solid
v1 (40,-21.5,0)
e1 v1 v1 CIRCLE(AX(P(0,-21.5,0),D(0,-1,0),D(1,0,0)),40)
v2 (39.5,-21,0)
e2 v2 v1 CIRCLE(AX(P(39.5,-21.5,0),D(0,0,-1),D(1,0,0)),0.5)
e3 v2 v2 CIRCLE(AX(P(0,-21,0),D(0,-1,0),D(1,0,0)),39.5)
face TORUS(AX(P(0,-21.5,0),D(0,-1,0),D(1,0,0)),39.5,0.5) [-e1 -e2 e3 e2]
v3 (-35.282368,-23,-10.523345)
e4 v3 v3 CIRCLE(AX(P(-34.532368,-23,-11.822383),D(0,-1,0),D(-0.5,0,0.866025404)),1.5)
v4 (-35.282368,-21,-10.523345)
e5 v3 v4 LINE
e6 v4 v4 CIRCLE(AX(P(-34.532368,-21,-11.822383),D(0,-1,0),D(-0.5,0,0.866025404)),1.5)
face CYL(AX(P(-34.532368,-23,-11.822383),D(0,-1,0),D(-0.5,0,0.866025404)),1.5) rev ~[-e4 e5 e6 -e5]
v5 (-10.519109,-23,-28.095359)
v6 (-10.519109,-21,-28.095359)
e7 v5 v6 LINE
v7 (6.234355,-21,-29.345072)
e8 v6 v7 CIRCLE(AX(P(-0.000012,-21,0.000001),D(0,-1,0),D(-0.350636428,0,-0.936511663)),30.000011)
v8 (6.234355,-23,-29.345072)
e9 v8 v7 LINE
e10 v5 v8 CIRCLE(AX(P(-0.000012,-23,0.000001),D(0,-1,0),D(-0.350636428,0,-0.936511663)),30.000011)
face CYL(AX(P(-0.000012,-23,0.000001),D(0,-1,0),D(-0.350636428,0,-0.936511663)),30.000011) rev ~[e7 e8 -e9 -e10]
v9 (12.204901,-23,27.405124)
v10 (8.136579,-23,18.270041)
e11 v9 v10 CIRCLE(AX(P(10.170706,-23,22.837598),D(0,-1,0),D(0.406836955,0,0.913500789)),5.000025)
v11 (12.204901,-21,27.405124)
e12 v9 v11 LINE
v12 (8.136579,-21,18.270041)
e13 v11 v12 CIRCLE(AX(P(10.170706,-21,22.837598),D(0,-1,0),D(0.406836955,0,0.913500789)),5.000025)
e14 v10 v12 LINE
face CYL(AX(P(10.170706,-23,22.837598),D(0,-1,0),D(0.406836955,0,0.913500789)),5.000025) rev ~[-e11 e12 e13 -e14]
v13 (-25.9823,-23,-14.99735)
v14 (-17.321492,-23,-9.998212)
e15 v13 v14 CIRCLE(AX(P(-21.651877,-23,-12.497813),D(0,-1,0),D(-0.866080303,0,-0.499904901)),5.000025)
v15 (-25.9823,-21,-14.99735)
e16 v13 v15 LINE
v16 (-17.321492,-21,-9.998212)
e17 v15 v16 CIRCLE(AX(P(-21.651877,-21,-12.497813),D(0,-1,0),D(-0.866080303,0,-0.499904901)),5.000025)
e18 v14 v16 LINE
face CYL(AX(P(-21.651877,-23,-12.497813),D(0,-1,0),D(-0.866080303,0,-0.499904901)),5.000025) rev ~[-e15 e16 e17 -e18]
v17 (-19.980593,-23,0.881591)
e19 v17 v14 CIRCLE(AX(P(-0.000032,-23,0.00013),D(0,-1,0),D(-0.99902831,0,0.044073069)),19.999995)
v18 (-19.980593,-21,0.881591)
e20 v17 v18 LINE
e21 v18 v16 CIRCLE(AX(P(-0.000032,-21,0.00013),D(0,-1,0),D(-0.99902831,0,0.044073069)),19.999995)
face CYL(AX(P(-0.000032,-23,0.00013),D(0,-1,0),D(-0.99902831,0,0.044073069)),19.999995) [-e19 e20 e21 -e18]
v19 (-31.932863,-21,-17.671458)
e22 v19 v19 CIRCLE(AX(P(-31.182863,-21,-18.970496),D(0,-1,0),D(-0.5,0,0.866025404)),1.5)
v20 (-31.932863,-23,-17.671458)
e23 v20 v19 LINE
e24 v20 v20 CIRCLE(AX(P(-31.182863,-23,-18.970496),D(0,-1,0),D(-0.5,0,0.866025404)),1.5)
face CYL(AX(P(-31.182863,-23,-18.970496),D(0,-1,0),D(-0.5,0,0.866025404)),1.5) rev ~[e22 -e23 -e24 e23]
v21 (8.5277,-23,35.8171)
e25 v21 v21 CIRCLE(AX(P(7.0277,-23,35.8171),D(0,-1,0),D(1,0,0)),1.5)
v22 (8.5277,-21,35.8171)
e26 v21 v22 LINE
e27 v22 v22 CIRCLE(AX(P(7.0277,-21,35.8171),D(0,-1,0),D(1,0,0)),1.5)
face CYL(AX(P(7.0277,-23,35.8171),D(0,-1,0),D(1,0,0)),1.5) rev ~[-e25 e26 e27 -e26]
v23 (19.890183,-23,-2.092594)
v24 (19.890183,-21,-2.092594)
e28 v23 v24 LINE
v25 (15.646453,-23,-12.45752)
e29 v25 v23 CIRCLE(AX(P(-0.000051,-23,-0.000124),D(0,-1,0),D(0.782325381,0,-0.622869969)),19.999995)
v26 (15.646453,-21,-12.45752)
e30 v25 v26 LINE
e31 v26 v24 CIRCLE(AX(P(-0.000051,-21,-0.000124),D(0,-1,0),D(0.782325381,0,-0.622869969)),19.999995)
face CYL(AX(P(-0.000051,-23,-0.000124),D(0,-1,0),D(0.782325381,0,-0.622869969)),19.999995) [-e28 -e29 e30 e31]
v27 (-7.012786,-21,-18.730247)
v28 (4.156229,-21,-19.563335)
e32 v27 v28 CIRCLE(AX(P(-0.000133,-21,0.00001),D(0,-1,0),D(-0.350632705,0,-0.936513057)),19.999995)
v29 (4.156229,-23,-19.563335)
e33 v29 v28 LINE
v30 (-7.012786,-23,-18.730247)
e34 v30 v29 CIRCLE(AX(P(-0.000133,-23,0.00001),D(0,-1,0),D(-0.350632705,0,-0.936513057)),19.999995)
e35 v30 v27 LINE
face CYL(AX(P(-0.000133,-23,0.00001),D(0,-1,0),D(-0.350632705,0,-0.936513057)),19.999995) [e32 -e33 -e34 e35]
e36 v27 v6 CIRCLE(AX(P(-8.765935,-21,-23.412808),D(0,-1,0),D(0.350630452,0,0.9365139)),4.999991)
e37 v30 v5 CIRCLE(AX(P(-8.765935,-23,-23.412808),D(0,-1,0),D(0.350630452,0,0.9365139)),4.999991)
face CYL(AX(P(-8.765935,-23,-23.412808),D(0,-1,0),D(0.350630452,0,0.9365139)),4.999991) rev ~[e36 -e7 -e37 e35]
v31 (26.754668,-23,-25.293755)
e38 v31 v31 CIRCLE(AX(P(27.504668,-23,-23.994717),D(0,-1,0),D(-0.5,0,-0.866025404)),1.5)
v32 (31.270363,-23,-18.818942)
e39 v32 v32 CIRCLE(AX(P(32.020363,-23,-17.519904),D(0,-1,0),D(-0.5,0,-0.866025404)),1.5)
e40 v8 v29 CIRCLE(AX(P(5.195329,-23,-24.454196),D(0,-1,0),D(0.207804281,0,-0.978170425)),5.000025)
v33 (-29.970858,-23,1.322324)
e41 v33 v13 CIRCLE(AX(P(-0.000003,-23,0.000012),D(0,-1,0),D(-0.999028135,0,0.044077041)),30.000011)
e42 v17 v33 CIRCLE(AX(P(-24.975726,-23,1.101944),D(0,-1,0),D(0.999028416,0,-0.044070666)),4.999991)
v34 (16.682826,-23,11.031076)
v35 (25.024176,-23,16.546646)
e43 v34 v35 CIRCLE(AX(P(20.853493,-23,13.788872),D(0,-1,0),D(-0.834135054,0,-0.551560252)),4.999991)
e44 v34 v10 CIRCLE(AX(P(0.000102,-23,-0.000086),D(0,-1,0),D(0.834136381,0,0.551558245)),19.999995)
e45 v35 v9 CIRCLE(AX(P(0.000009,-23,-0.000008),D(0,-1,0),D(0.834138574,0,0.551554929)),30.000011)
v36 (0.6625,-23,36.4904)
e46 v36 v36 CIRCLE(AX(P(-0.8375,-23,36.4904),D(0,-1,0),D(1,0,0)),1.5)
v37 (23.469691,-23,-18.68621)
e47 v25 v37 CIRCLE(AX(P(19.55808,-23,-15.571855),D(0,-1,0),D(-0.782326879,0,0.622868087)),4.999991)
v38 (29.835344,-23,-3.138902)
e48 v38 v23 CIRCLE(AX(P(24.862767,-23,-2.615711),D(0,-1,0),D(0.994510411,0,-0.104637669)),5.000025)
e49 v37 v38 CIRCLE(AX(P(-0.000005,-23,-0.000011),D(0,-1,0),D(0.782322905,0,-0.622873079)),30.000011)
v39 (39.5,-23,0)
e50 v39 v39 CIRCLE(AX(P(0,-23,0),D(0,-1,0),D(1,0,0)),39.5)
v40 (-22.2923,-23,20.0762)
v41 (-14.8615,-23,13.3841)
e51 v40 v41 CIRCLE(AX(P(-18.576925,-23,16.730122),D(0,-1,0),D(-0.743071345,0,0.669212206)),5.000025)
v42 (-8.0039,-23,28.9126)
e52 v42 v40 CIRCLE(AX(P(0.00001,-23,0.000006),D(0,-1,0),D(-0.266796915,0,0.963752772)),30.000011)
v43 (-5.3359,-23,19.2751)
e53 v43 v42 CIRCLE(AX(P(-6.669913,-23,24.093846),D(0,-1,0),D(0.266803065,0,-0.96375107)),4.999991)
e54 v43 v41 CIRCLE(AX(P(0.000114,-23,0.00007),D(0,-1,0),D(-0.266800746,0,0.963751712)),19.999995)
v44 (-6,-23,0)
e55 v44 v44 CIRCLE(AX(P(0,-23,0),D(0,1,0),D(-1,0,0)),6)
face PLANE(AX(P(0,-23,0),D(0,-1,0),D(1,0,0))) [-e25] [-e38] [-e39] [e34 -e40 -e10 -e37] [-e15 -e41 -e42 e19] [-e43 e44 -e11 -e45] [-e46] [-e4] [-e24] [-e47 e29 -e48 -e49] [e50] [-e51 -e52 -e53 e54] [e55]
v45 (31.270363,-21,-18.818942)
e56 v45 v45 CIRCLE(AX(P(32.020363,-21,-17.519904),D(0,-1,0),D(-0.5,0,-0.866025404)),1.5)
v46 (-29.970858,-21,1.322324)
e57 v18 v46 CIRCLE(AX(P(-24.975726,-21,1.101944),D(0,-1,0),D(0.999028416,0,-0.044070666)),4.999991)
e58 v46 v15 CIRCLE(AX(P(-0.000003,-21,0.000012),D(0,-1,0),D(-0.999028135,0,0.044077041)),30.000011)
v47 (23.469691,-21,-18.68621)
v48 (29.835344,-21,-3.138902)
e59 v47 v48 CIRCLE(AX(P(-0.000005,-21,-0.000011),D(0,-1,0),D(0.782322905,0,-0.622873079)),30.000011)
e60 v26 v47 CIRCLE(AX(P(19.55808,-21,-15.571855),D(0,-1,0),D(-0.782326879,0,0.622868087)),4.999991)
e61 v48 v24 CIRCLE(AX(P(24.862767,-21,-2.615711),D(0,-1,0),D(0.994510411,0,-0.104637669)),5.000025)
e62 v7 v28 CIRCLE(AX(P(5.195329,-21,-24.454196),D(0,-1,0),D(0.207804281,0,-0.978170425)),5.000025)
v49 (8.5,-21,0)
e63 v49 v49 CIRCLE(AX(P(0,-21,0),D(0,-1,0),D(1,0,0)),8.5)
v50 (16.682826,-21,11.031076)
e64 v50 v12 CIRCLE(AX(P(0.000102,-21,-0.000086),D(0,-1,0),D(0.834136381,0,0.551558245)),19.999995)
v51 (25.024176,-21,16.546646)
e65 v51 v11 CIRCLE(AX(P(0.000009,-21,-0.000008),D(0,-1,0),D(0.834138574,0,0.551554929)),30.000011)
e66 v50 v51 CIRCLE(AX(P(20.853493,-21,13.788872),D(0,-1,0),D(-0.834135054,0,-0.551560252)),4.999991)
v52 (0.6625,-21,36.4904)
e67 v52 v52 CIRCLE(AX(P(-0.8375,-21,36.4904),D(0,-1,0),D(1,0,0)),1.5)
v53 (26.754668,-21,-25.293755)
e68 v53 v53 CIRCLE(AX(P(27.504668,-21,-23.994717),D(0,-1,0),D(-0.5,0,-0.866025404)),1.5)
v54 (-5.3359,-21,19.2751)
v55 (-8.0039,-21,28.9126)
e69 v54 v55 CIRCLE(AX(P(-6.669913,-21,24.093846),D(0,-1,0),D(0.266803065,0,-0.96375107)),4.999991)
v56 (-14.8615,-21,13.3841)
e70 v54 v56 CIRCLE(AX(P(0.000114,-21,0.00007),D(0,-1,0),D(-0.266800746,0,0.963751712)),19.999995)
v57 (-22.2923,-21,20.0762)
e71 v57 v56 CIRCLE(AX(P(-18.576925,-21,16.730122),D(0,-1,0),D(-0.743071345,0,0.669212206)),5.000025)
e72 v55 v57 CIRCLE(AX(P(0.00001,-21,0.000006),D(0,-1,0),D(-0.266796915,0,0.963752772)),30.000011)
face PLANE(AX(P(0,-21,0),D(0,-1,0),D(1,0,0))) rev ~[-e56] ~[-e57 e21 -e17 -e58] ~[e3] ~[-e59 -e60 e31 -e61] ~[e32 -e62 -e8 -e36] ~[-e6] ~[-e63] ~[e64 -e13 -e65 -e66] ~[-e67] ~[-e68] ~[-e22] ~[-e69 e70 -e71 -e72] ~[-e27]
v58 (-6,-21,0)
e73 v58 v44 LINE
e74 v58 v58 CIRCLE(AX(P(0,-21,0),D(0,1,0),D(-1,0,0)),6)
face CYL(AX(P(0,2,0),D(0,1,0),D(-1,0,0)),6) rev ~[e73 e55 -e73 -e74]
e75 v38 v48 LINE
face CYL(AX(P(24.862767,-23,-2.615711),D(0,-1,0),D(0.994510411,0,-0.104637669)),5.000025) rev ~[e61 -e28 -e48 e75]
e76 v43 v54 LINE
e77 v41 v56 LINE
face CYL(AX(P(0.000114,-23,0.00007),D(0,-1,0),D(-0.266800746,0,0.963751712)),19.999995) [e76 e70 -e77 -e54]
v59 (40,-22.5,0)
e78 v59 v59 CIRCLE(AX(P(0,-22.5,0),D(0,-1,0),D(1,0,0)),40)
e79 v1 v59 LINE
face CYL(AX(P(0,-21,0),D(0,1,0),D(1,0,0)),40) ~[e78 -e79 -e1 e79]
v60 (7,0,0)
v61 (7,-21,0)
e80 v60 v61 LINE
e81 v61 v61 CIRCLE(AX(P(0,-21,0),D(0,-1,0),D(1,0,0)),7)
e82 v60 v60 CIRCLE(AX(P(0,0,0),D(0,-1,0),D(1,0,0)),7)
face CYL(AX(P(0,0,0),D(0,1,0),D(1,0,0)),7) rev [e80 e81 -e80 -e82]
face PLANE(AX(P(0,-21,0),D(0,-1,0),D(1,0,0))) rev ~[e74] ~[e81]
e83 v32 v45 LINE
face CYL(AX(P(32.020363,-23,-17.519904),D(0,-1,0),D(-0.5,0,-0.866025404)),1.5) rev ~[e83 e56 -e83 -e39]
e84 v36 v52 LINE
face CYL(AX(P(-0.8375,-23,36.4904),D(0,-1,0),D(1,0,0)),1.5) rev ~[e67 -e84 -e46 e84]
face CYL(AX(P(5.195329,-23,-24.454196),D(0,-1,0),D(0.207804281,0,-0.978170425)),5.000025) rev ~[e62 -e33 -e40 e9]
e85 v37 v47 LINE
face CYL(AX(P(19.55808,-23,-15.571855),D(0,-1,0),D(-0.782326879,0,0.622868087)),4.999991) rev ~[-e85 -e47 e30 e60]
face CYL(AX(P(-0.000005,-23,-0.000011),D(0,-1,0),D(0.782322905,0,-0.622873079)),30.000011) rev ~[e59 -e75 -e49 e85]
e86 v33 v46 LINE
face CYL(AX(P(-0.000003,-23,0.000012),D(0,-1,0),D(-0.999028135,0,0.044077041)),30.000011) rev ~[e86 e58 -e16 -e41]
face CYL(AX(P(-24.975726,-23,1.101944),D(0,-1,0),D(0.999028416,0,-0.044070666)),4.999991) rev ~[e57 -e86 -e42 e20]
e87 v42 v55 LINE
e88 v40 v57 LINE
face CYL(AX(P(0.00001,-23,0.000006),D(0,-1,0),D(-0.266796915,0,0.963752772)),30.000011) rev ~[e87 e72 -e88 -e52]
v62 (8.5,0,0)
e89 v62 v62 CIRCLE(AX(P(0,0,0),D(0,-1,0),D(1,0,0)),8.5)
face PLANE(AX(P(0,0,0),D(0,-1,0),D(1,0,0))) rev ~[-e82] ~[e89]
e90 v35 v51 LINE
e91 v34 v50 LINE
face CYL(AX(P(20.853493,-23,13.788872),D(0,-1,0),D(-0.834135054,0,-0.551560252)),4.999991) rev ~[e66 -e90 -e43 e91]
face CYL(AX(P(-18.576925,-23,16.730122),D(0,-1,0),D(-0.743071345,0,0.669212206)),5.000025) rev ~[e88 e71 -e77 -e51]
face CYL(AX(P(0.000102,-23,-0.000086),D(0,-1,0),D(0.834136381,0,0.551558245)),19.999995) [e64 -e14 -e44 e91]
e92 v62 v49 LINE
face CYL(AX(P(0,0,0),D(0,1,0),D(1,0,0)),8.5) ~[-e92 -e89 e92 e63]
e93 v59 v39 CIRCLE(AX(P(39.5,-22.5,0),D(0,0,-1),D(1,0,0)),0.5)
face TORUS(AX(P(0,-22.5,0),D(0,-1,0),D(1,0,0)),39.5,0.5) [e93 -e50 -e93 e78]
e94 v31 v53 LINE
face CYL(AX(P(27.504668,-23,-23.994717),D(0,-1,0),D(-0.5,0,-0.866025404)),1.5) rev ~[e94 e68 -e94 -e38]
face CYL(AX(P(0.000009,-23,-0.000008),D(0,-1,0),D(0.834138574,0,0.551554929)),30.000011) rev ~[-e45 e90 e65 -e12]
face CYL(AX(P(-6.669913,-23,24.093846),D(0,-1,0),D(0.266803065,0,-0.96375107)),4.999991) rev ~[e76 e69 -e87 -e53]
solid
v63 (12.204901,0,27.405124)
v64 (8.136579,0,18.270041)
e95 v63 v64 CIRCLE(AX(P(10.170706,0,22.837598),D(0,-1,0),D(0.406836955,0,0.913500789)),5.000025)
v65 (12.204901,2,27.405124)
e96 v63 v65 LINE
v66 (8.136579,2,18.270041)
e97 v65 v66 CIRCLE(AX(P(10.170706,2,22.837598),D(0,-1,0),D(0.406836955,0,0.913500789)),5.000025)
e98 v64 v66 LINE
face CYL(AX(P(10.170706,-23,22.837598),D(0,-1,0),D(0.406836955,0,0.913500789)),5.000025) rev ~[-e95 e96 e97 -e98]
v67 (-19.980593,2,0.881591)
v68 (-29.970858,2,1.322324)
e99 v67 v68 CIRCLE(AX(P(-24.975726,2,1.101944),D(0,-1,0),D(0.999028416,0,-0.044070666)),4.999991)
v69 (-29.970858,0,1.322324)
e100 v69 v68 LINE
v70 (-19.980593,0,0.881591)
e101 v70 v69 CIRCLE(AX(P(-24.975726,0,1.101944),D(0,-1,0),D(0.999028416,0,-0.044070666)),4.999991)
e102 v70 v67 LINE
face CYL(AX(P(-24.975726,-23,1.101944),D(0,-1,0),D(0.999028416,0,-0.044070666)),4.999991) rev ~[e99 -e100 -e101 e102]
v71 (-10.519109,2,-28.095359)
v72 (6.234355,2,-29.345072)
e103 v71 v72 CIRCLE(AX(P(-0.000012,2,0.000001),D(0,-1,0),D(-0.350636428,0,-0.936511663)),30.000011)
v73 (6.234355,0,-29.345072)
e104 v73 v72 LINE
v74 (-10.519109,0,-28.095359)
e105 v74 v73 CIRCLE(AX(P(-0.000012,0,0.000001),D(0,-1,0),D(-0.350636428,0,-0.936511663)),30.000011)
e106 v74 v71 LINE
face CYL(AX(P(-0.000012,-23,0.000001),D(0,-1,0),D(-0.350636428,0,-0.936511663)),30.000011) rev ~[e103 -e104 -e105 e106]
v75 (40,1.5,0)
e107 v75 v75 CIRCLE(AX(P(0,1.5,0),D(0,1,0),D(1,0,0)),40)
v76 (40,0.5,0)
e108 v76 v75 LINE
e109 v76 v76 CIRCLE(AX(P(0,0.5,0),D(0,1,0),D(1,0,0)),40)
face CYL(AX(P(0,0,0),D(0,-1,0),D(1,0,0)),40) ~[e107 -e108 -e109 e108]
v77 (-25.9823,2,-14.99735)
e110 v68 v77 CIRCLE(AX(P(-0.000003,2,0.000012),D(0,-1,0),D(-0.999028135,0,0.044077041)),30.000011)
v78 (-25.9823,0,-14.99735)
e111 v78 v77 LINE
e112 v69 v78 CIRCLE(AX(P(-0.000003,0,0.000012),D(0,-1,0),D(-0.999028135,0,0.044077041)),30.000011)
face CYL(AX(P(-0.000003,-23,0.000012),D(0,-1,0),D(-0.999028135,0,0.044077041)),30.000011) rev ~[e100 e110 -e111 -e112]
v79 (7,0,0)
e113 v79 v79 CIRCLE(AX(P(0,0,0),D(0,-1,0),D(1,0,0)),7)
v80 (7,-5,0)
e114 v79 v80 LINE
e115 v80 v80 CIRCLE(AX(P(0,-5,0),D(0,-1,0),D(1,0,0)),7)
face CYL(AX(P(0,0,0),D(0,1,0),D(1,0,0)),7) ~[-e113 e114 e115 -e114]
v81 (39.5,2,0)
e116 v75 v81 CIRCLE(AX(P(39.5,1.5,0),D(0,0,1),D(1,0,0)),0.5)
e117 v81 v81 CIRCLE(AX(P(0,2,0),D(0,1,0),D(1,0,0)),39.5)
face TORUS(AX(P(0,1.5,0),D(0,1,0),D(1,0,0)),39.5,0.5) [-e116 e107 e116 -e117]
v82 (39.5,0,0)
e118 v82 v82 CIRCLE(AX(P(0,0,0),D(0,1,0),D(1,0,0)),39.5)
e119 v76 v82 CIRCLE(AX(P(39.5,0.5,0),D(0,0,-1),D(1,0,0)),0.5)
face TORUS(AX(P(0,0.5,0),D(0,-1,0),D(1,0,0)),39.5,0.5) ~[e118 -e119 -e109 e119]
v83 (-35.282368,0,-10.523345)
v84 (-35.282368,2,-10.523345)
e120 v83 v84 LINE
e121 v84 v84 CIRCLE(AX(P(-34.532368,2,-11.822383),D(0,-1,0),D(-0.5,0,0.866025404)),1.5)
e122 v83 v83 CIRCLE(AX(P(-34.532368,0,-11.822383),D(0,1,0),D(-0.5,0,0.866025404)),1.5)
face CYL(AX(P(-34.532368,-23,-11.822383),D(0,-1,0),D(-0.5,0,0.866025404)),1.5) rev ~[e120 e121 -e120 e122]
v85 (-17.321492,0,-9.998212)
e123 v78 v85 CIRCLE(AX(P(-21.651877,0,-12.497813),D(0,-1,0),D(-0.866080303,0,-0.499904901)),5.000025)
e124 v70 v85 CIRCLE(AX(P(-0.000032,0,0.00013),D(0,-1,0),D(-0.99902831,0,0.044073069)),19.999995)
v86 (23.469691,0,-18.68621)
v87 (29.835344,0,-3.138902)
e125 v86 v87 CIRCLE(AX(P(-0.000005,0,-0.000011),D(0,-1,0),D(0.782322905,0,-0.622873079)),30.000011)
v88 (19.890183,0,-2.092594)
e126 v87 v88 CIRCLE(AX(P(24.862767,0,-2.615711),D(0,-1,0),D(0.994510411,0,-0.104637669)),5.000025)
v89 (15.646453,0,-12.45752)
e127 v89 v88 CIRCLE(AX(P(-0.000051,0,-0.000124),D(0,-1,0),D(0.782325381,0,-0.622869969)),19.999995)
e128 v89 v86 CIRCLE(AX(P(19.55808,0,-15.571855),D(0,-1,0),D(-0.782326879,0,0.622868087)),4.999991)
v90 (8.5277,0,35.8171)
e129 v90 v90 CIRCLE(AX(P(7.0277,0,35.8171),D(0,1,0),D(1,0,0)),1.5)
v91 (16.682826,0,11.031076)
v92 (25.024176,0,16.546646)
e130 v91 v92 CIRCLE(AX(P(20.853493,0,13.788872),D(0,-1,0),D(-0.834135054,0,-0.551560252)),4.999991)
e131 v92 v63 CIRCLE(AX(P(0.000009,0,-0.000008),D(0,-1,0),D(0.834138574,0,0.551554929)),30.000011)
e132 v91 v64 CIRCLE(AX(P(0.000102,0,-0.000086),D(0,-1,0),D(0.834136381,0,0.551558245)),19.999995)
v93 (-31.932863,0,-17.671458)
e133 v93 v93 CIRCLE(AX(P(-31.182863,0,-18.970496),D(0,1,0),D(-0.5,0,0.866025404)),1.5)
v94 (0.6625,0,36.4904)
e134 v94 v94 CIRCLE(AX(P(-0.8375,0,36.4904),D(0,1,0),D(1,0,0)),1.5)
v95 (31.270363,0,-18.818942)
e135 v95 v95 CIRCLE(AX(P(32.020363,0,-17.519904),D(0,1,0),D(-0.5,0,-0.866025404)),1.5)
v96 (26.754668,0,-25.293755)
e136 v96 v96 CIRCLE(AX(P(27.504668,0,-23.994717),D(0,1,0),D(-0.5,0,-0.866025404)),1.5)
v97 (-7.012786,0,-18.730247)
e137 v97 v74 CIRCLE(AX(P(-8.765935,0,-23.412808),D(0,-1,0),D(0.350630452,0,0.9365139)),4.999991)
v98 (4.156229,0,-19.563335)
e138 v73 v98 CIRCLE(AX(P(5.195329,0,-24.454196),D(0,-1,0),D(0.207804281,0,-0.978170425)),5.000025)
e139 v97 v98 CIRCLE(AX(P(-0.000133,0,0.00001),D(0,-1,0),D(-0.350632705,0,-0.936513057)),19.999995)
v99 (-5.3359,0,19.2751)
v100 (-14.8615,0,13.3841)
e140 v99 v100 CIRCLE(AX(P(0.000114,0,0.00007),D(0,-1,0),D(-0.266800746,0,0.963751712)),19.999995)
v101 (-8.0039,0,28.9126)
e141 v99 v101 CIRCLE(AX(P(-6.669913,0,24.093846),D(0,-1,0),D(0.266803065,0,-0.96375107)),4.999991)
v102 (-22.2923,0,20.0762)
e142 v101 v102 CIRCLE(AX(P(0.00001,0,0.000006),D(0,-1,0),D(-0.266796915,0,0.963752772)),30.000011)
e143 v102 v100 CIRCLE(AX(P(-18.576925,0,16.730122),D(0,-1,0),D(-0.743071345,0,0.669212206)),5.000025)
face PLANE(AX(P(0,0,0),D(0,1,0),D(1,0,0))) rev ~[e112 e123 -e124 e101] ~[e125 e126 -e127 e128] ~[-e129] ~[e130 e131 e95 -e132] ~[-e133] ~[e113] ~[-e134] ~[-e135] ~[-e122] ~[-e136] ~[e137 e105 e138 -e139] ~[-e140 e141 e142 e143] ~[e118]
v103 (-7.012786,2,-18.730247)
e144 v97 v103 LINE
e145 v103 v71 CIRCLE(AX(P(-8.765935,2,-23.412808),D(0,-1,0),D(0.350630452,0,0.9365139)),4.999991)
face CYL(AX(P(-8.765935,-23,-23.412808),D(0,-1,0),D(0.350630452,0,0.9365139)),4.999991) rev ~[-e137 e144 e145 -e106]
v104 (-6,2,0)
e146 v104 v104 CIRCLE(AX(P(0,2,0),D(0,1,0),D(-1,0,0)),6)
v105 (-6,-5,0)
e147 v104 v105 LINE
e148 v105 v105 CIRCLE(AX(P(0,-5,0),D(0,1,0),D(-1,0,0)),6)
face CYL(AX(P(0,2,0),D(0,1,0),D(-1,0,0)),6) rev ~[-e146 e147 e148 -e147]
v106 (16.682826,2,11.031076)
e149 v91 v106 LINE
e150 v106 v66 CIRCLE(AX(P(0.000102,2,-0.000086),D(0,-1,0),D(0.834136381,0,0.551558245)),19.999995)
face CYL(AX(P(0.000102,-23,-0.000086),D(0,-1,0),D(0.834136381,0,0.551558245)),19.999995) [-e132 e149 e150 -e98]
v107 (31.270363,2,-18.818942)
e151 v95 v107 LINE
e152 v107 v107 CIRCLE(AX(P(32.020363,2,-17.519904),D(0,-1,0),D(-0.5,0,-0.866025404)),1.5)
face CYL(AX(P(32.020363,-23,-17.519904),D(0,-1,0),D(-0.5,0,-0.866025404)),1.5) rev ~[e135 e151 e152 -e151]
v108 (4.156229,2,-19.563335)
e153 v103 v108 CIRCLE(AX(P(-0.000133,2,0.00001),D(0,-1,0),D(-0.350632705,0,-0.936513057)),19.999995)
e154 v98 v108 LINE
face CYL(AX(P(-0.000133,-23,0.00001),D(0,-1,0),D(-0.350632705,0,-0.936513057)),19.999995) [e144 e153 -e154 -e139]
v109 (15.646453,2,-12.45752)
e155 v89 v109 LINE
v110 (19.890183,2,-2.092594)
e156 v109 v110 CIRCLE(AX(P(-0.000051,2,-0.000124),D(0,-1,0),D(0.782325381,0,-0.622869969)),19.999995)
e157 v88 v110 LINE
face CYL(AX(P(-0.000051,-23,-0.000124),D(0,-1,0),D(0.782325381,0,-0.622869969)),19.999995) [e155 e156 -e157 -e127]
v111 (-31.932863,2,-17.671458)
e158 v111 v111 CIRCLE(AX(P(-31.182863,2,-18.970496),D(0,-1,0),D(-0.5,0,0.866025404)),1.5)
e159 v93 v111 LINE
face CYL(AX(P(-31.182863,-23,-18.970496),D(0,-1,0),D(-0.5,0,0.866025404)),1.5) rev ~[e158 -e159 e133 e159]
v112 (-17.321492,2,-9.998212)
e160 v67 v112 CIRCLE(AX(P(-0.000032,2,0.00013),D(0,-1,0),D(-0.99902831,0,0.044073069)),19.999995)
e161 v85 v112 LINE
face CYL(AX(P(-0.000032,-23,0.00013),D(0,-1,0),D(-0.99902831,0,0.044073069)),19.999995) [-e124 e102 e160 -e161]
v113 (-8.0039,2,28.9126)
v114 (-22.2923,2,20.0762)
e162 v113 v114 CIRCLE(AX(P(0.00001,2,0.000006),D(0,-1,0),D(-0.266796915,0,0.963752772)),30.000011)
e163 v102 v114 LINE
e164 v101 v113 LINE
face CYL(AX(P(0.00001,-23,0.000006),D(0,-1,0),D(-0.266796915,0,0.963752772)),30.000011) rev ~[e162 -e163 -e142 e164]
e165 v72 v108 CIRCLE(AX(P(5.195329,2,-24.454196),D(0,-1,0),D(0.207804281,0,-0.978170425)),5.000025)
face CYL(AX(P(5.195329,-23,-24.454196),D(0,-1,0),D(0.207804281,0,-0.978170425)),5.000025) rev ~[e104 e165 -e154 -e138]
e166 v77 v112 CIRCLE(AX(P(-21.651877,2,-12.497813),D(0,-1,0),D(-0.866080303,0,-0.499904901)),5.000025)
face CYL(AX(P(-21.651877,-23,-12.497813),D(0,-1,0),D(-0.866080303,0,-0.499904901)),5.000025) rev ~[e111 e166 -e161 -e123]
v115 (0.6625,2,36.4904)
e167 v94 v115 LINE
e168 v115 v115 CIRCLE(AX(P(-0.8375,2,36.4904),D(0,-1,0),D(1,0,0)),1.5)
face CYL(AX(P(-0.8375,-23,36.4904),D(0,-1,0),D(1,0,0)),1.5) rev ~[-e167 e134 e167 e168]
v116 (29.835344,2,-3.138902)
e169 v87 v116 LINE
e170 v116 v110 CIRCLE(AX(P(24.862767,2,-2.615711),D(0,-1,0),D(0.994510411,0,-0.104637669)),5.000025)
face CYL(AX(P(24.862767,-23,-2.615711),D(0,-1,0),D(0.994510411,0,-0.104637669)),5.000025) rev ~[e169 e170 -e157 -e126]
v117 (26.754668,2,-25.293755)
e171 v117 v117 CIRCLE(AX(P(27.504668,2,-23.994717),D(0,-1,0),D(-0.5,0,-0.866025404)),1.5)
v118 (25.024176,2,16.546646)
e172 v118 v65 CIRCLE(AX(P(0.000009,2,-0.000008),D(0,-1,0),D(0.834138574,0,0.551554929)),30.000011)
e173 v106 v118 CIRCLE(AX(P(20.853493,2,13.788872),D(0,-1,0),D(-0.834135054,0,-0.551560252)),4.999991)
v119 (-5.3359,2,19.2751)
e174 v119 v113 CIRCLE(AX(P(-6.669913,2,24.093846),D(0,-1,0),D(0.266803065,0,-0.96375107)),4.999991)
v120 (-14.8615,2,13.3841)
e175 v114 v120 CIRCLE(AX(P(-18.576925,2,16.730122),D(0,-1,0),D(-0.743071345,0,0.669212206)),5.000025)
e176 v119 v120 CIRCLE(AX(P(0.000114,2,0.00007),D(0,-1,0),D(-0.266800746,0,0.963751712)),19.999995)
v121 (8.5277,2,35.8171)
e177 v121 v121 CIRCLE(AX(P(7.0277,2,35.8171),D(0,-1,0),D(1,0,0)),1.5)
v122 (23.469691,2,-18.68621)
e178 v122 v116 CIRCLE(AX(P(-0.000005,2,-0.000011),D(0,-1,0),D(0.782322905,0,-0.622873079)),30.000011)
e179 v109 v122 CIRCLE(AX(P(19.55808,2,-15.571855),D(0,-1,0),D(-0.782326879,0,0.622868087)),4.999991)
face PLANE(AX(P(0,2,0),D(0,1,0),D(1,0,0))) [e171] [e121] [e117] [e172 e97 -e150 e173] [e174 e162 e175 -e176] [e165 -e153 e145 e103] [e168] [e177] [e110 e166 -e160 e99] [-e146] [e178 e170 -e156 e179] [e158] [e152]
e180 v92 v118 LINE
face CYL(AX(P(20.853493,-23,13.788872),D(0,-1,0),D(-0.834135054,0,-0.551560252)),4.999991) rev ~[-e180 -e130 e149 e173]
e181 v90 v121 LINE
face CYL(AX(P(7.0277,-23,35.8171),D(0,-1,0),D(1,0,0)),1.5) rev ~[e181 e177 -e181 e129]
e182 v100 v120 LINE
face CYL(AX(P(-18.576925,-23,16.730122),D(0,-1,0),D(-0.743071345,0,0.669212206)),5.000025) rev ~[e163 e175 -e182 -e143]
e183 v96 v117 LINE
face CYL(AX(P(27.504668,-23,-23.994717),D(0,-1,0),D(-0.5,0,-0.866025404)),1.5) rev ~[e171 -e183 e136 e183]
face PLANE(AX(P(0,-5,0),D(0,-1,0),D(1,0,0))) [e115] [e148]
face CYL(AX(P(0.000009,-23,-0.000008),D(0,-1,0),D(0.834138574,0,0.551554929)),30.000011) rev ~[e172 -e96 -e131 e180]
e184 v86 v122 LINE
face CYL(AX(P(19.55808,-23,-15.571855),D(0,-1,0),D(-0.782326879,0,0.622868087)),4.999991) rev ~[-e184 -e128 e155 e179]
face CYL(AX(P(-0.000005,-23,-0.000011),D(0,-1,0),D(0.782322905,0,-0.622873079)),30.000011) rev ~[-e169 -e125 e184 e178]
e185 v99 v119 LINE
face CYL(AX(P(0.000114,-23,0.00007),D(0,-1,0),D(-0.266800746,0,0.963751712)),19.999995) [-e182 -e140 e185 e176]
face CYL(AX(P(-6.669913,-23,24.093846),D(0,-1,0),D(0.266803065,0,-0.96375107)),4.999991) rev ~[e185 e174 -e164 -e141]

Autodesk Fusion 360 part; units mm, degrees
sketch "Sketch1" plane through (0, 0, 0) normal (0, 1, 0) x (1, 0, 0)
  circle A0 centre (0, 0) radius 40
  dimension "d5" = 80
extrude "Extrude1" add sketch "Sketch1" along normal blind 2 makes body 1
sketch "Sketch2" plane through (0, 0, 0) normal (0, 1, 0) x (1, 0, 0)
  circle A0 centre (0, 0) radius 6
  dimension "d10" = 12
sketch "Sketch3" plane through (0, 0, 0) normal (0, -1, 0) x (1, 0, 0)
  circle A0 centre (0, 0) radius 40
  circle A1 centre (0, 0) radius 7
  dimension "d13" = 14
extrude "Extrude3" add sketch "Sketch3" along normal blind 5 contours A1 bodies 1
sketch "Sketch4" plane through (0, 0, 0) normal (0, -1, 0) x (1, 0, 0)
  circle A0 centre (0, 0) radius 7
  circle A1 centre (0, 0) radius 40
  circle A2 centre (0, 0) radius 8.5
  dimension "d16" = 17
extrude "Extrude4" add sketch "Sketch4" along normal blind 21 separate body contours A2 makes body 2
sketch "Sketch5" plane through (0, -21, 0) normal (0, -1, 0) x (1, 0, 0)
  circle A0 centre (0, 0) radius 7
  circle A1 centre (0, 0) radius 8.5
  circle A2 centre (0, 0) radius 40
  circle A3 centre (0, 0) radius 6
  dimension "d19" = 80
  dimension "d20" = 12
extrude "Extrude5" add sketch "Sketch5" along normal blind 2 contours A0 | A1 | A2 | A3 bodies 2
sketch "Sketch6" plane through (0, 2, 0) normal (0, 1, 0) x (-1, 0, 0)
  circle A0 centre (0, 0) radius 40
  circle A1 centre (0, 0) radius 6
  dimension "d23" = 12
extrude "Extrude6" cut sketch "Sketch6" against normal blind 25 contours A1 bodies 1 2
fillet "Fillet1" radius 0.5 4 edges at (-37.2931, 0, 14.4646) (-37.2931, 2, 14.4646) (-37.2931, -23, -14.4646) (-37.2931, -21, -14.4646) on bodies 1 2
sketch "Sketch8" plane through (0, -23, 0) normal (0, -1, 0) x (1, 0, 0)
  circle A0 centre (0, 0) radius 6
  circle A1 centre (0, 0) radius 39.5
  circle A2 centre (0, 0) radius 12.5 construction
  arc A3 (-5.3359, 19.2751) -> (-14.8615, 13.3841) centre (0, 0) ccw
  arc A4 (-5.3359, 19.2751) -> (-8.0039, 28.9126) centre (-6.6699, 24.0938) ccw
  arc A5 (-8.0039, 28.9126) -> (-22.2923, 20.0762) centre (0, 0) ccw
  arc A6 (-22.2923, 20.0762) -> (-14.8615, 13.3841) centre (-18.5769, 16.7301) ccw
  arc A7 (-6.6699, 24.0938) -> (-18.5769, 16.7301) centre (0, 0) ccw construction
  dimension "d40" = 25
  dimension "d48" = 14
  dimension "d50" = 5
  dimension "d61" = 25
extrude "Extrude11" cut sketch "Sketch8" against normal blind 25 contours A3 A4 A5 A6 bodies 1 2
pattern_circular "C-Pattern2" count 5 over 360 about axis through (0, -23, 0) along (0, -1, 0) of "Extrude11"
sketch "Sketch9" plane through (0, -23, 0) normal (0, -1, 0) x (1, 0, 0)
  circle A0 centre (0, 0) radius 6
  circle A1 centre (-0.8375, 36.4904) radius 1.5
  circle A2 centre (0, 0) radius 39.5
  arc A3 (16.6828, 11.0311) -> (8.1366, 18.2701) centre (0, 0) ccw
  arc A4 (12.2049, 27.4051) -> (8.1366, 18.2701) centre (10.1707, 22.8376) ccw
  arc A5 (25.0241, 16.5467) -> (12.2049, 27.4051) centre (0, 0) ccw
  arc A6 (16.6828, 11.0311) -> (25.0241, 16.5467) centre (20.8535, 13.7889) ccw
  arc A7 (15.6465, -12.4575) -> (19.8902, -2.0926) centre (0, 0) ccw
  arc A8 (29.8353, -3.1389) -> (19.8902, -2.0926) centre (24.8628, -2.6157) ccw
  arc A9 (23.4697, -18.6862) -> (29.8353, -3.1389) centre (0, 0) ccw
  arc A10 (15.6465, -12.4575) -> (23.4697, -18.6862) centre (19.5581, -15.5718) ccw
  arc A11 (-7.0127, -18.7302) -> (4.1563, -19.5634) centre (0, 0) ccw
  arc A12 (6.2344, -29.3451) -> (4.1563, -19.5634) centre (5.1953, -24.4542) ccw
  arc A13 (-10.5191, -28.0954) -> (6.2344, -29.3451) centre (0, 0) ccw
  arc A14 (-7.0127, -18.7302) -> (-10.5191, -28.0954) centre (-8.7659, -23.4128) ccw
  arc A15 (-19.9806, 0.8815) -> (-17.3215, -9.9982) centre (0, 0) ccw
  arc A16 (-25.9823, -14.9974) -> (-17.3215, -9.9982) centre (-21.6519, -12.4978) ccw
  arc A17 (-29.9708, 1.3223) -> (-25.9823, -14.9974) centre (0, 0) ccw
  arc A18 (-19.9806, 0.8815) -> (-29.9708, 1.3223) centre (-24.9757, 1.1019) ccw
  arc A19 (-8.0039, 28.9126) -> (-22.2923, 20.0762) centre (0, 0) ccw
  arc A20 (-5.3359, 19.2751) -> (-8.0039, 28.9126) centre (-6.6699, 24.0938) ccw
  arc A21 (-5.3359, 19.2751) -> (-14.8615, 13.3841) centre (0, 0) ccw
  arc A22 (-22.2923, 20.0762) -> (-14.8615, 13.3841) centre (-18.5769, 16.7301) ccw
  circle A23 centre (0, 0) radius 36.5
  line L0 (0, 0) -> (7.0277, 35.8171)
  circle A24 centre (7.0277, 35.8171) radius 1.5
  dimension "d55" = 3
  dimension "d65" = 3
  dimension "d67" = 73
extrude "Extrude12" cut sketch "Sketch9" against normal blind 25 contours A23 L0 A24 | A23 L0 A24 | A23 A24 | A1 A23 | A1 A23 bodies 1 2
pattern_circular "C-Pattern4" count 3 over 360 about axis through (0, -23, 0) along (0, 1, 0) of "Extrude12"
equation "RimDIAM = 80 mm"
equation "spokeDIAOUT = 14 mm"
equation "AxelDIA = 12 mm"
equation "outerspokeDIA = spokeDIAOUT + spokethinkness"
equation "d5 = RimDIAM"
equation "RimTHICK = 2 mm"
equation "CenterSpace = OverallThickness - ( RimTHICK * 2 )"
equation "d8 = RimTHICK"
equation "d10 = AxelDIA"
equation "d13 = spokeDIAOUT"
equation "d16 = outerspokeDIA"
equation "d17 = CenterSpace"
equation "d19 = RimDIAM"
equation "d20 = AxelDIA"
equation "d21 = RimTHICK"
equation "d23 = AxelDIA"
equation "OverallThickness = 25 mm"
equation "RimHolePattencentreline = 25 mm"
equation "RimHoleRAID = 5 mm"
equation "d40 = RimHolePattencentreline"
equation "spokethinkness = 3 mm"
equation "d48 = rimholelength"
equation "rimholelength = 14 mm"
equation "d50 = RimHoleRAID"
equation "d61 = RimHolePattencentreline"
equation "Cableendholes = RimDIAM - 7 mm"
equation "d67 = Cableendholes"
